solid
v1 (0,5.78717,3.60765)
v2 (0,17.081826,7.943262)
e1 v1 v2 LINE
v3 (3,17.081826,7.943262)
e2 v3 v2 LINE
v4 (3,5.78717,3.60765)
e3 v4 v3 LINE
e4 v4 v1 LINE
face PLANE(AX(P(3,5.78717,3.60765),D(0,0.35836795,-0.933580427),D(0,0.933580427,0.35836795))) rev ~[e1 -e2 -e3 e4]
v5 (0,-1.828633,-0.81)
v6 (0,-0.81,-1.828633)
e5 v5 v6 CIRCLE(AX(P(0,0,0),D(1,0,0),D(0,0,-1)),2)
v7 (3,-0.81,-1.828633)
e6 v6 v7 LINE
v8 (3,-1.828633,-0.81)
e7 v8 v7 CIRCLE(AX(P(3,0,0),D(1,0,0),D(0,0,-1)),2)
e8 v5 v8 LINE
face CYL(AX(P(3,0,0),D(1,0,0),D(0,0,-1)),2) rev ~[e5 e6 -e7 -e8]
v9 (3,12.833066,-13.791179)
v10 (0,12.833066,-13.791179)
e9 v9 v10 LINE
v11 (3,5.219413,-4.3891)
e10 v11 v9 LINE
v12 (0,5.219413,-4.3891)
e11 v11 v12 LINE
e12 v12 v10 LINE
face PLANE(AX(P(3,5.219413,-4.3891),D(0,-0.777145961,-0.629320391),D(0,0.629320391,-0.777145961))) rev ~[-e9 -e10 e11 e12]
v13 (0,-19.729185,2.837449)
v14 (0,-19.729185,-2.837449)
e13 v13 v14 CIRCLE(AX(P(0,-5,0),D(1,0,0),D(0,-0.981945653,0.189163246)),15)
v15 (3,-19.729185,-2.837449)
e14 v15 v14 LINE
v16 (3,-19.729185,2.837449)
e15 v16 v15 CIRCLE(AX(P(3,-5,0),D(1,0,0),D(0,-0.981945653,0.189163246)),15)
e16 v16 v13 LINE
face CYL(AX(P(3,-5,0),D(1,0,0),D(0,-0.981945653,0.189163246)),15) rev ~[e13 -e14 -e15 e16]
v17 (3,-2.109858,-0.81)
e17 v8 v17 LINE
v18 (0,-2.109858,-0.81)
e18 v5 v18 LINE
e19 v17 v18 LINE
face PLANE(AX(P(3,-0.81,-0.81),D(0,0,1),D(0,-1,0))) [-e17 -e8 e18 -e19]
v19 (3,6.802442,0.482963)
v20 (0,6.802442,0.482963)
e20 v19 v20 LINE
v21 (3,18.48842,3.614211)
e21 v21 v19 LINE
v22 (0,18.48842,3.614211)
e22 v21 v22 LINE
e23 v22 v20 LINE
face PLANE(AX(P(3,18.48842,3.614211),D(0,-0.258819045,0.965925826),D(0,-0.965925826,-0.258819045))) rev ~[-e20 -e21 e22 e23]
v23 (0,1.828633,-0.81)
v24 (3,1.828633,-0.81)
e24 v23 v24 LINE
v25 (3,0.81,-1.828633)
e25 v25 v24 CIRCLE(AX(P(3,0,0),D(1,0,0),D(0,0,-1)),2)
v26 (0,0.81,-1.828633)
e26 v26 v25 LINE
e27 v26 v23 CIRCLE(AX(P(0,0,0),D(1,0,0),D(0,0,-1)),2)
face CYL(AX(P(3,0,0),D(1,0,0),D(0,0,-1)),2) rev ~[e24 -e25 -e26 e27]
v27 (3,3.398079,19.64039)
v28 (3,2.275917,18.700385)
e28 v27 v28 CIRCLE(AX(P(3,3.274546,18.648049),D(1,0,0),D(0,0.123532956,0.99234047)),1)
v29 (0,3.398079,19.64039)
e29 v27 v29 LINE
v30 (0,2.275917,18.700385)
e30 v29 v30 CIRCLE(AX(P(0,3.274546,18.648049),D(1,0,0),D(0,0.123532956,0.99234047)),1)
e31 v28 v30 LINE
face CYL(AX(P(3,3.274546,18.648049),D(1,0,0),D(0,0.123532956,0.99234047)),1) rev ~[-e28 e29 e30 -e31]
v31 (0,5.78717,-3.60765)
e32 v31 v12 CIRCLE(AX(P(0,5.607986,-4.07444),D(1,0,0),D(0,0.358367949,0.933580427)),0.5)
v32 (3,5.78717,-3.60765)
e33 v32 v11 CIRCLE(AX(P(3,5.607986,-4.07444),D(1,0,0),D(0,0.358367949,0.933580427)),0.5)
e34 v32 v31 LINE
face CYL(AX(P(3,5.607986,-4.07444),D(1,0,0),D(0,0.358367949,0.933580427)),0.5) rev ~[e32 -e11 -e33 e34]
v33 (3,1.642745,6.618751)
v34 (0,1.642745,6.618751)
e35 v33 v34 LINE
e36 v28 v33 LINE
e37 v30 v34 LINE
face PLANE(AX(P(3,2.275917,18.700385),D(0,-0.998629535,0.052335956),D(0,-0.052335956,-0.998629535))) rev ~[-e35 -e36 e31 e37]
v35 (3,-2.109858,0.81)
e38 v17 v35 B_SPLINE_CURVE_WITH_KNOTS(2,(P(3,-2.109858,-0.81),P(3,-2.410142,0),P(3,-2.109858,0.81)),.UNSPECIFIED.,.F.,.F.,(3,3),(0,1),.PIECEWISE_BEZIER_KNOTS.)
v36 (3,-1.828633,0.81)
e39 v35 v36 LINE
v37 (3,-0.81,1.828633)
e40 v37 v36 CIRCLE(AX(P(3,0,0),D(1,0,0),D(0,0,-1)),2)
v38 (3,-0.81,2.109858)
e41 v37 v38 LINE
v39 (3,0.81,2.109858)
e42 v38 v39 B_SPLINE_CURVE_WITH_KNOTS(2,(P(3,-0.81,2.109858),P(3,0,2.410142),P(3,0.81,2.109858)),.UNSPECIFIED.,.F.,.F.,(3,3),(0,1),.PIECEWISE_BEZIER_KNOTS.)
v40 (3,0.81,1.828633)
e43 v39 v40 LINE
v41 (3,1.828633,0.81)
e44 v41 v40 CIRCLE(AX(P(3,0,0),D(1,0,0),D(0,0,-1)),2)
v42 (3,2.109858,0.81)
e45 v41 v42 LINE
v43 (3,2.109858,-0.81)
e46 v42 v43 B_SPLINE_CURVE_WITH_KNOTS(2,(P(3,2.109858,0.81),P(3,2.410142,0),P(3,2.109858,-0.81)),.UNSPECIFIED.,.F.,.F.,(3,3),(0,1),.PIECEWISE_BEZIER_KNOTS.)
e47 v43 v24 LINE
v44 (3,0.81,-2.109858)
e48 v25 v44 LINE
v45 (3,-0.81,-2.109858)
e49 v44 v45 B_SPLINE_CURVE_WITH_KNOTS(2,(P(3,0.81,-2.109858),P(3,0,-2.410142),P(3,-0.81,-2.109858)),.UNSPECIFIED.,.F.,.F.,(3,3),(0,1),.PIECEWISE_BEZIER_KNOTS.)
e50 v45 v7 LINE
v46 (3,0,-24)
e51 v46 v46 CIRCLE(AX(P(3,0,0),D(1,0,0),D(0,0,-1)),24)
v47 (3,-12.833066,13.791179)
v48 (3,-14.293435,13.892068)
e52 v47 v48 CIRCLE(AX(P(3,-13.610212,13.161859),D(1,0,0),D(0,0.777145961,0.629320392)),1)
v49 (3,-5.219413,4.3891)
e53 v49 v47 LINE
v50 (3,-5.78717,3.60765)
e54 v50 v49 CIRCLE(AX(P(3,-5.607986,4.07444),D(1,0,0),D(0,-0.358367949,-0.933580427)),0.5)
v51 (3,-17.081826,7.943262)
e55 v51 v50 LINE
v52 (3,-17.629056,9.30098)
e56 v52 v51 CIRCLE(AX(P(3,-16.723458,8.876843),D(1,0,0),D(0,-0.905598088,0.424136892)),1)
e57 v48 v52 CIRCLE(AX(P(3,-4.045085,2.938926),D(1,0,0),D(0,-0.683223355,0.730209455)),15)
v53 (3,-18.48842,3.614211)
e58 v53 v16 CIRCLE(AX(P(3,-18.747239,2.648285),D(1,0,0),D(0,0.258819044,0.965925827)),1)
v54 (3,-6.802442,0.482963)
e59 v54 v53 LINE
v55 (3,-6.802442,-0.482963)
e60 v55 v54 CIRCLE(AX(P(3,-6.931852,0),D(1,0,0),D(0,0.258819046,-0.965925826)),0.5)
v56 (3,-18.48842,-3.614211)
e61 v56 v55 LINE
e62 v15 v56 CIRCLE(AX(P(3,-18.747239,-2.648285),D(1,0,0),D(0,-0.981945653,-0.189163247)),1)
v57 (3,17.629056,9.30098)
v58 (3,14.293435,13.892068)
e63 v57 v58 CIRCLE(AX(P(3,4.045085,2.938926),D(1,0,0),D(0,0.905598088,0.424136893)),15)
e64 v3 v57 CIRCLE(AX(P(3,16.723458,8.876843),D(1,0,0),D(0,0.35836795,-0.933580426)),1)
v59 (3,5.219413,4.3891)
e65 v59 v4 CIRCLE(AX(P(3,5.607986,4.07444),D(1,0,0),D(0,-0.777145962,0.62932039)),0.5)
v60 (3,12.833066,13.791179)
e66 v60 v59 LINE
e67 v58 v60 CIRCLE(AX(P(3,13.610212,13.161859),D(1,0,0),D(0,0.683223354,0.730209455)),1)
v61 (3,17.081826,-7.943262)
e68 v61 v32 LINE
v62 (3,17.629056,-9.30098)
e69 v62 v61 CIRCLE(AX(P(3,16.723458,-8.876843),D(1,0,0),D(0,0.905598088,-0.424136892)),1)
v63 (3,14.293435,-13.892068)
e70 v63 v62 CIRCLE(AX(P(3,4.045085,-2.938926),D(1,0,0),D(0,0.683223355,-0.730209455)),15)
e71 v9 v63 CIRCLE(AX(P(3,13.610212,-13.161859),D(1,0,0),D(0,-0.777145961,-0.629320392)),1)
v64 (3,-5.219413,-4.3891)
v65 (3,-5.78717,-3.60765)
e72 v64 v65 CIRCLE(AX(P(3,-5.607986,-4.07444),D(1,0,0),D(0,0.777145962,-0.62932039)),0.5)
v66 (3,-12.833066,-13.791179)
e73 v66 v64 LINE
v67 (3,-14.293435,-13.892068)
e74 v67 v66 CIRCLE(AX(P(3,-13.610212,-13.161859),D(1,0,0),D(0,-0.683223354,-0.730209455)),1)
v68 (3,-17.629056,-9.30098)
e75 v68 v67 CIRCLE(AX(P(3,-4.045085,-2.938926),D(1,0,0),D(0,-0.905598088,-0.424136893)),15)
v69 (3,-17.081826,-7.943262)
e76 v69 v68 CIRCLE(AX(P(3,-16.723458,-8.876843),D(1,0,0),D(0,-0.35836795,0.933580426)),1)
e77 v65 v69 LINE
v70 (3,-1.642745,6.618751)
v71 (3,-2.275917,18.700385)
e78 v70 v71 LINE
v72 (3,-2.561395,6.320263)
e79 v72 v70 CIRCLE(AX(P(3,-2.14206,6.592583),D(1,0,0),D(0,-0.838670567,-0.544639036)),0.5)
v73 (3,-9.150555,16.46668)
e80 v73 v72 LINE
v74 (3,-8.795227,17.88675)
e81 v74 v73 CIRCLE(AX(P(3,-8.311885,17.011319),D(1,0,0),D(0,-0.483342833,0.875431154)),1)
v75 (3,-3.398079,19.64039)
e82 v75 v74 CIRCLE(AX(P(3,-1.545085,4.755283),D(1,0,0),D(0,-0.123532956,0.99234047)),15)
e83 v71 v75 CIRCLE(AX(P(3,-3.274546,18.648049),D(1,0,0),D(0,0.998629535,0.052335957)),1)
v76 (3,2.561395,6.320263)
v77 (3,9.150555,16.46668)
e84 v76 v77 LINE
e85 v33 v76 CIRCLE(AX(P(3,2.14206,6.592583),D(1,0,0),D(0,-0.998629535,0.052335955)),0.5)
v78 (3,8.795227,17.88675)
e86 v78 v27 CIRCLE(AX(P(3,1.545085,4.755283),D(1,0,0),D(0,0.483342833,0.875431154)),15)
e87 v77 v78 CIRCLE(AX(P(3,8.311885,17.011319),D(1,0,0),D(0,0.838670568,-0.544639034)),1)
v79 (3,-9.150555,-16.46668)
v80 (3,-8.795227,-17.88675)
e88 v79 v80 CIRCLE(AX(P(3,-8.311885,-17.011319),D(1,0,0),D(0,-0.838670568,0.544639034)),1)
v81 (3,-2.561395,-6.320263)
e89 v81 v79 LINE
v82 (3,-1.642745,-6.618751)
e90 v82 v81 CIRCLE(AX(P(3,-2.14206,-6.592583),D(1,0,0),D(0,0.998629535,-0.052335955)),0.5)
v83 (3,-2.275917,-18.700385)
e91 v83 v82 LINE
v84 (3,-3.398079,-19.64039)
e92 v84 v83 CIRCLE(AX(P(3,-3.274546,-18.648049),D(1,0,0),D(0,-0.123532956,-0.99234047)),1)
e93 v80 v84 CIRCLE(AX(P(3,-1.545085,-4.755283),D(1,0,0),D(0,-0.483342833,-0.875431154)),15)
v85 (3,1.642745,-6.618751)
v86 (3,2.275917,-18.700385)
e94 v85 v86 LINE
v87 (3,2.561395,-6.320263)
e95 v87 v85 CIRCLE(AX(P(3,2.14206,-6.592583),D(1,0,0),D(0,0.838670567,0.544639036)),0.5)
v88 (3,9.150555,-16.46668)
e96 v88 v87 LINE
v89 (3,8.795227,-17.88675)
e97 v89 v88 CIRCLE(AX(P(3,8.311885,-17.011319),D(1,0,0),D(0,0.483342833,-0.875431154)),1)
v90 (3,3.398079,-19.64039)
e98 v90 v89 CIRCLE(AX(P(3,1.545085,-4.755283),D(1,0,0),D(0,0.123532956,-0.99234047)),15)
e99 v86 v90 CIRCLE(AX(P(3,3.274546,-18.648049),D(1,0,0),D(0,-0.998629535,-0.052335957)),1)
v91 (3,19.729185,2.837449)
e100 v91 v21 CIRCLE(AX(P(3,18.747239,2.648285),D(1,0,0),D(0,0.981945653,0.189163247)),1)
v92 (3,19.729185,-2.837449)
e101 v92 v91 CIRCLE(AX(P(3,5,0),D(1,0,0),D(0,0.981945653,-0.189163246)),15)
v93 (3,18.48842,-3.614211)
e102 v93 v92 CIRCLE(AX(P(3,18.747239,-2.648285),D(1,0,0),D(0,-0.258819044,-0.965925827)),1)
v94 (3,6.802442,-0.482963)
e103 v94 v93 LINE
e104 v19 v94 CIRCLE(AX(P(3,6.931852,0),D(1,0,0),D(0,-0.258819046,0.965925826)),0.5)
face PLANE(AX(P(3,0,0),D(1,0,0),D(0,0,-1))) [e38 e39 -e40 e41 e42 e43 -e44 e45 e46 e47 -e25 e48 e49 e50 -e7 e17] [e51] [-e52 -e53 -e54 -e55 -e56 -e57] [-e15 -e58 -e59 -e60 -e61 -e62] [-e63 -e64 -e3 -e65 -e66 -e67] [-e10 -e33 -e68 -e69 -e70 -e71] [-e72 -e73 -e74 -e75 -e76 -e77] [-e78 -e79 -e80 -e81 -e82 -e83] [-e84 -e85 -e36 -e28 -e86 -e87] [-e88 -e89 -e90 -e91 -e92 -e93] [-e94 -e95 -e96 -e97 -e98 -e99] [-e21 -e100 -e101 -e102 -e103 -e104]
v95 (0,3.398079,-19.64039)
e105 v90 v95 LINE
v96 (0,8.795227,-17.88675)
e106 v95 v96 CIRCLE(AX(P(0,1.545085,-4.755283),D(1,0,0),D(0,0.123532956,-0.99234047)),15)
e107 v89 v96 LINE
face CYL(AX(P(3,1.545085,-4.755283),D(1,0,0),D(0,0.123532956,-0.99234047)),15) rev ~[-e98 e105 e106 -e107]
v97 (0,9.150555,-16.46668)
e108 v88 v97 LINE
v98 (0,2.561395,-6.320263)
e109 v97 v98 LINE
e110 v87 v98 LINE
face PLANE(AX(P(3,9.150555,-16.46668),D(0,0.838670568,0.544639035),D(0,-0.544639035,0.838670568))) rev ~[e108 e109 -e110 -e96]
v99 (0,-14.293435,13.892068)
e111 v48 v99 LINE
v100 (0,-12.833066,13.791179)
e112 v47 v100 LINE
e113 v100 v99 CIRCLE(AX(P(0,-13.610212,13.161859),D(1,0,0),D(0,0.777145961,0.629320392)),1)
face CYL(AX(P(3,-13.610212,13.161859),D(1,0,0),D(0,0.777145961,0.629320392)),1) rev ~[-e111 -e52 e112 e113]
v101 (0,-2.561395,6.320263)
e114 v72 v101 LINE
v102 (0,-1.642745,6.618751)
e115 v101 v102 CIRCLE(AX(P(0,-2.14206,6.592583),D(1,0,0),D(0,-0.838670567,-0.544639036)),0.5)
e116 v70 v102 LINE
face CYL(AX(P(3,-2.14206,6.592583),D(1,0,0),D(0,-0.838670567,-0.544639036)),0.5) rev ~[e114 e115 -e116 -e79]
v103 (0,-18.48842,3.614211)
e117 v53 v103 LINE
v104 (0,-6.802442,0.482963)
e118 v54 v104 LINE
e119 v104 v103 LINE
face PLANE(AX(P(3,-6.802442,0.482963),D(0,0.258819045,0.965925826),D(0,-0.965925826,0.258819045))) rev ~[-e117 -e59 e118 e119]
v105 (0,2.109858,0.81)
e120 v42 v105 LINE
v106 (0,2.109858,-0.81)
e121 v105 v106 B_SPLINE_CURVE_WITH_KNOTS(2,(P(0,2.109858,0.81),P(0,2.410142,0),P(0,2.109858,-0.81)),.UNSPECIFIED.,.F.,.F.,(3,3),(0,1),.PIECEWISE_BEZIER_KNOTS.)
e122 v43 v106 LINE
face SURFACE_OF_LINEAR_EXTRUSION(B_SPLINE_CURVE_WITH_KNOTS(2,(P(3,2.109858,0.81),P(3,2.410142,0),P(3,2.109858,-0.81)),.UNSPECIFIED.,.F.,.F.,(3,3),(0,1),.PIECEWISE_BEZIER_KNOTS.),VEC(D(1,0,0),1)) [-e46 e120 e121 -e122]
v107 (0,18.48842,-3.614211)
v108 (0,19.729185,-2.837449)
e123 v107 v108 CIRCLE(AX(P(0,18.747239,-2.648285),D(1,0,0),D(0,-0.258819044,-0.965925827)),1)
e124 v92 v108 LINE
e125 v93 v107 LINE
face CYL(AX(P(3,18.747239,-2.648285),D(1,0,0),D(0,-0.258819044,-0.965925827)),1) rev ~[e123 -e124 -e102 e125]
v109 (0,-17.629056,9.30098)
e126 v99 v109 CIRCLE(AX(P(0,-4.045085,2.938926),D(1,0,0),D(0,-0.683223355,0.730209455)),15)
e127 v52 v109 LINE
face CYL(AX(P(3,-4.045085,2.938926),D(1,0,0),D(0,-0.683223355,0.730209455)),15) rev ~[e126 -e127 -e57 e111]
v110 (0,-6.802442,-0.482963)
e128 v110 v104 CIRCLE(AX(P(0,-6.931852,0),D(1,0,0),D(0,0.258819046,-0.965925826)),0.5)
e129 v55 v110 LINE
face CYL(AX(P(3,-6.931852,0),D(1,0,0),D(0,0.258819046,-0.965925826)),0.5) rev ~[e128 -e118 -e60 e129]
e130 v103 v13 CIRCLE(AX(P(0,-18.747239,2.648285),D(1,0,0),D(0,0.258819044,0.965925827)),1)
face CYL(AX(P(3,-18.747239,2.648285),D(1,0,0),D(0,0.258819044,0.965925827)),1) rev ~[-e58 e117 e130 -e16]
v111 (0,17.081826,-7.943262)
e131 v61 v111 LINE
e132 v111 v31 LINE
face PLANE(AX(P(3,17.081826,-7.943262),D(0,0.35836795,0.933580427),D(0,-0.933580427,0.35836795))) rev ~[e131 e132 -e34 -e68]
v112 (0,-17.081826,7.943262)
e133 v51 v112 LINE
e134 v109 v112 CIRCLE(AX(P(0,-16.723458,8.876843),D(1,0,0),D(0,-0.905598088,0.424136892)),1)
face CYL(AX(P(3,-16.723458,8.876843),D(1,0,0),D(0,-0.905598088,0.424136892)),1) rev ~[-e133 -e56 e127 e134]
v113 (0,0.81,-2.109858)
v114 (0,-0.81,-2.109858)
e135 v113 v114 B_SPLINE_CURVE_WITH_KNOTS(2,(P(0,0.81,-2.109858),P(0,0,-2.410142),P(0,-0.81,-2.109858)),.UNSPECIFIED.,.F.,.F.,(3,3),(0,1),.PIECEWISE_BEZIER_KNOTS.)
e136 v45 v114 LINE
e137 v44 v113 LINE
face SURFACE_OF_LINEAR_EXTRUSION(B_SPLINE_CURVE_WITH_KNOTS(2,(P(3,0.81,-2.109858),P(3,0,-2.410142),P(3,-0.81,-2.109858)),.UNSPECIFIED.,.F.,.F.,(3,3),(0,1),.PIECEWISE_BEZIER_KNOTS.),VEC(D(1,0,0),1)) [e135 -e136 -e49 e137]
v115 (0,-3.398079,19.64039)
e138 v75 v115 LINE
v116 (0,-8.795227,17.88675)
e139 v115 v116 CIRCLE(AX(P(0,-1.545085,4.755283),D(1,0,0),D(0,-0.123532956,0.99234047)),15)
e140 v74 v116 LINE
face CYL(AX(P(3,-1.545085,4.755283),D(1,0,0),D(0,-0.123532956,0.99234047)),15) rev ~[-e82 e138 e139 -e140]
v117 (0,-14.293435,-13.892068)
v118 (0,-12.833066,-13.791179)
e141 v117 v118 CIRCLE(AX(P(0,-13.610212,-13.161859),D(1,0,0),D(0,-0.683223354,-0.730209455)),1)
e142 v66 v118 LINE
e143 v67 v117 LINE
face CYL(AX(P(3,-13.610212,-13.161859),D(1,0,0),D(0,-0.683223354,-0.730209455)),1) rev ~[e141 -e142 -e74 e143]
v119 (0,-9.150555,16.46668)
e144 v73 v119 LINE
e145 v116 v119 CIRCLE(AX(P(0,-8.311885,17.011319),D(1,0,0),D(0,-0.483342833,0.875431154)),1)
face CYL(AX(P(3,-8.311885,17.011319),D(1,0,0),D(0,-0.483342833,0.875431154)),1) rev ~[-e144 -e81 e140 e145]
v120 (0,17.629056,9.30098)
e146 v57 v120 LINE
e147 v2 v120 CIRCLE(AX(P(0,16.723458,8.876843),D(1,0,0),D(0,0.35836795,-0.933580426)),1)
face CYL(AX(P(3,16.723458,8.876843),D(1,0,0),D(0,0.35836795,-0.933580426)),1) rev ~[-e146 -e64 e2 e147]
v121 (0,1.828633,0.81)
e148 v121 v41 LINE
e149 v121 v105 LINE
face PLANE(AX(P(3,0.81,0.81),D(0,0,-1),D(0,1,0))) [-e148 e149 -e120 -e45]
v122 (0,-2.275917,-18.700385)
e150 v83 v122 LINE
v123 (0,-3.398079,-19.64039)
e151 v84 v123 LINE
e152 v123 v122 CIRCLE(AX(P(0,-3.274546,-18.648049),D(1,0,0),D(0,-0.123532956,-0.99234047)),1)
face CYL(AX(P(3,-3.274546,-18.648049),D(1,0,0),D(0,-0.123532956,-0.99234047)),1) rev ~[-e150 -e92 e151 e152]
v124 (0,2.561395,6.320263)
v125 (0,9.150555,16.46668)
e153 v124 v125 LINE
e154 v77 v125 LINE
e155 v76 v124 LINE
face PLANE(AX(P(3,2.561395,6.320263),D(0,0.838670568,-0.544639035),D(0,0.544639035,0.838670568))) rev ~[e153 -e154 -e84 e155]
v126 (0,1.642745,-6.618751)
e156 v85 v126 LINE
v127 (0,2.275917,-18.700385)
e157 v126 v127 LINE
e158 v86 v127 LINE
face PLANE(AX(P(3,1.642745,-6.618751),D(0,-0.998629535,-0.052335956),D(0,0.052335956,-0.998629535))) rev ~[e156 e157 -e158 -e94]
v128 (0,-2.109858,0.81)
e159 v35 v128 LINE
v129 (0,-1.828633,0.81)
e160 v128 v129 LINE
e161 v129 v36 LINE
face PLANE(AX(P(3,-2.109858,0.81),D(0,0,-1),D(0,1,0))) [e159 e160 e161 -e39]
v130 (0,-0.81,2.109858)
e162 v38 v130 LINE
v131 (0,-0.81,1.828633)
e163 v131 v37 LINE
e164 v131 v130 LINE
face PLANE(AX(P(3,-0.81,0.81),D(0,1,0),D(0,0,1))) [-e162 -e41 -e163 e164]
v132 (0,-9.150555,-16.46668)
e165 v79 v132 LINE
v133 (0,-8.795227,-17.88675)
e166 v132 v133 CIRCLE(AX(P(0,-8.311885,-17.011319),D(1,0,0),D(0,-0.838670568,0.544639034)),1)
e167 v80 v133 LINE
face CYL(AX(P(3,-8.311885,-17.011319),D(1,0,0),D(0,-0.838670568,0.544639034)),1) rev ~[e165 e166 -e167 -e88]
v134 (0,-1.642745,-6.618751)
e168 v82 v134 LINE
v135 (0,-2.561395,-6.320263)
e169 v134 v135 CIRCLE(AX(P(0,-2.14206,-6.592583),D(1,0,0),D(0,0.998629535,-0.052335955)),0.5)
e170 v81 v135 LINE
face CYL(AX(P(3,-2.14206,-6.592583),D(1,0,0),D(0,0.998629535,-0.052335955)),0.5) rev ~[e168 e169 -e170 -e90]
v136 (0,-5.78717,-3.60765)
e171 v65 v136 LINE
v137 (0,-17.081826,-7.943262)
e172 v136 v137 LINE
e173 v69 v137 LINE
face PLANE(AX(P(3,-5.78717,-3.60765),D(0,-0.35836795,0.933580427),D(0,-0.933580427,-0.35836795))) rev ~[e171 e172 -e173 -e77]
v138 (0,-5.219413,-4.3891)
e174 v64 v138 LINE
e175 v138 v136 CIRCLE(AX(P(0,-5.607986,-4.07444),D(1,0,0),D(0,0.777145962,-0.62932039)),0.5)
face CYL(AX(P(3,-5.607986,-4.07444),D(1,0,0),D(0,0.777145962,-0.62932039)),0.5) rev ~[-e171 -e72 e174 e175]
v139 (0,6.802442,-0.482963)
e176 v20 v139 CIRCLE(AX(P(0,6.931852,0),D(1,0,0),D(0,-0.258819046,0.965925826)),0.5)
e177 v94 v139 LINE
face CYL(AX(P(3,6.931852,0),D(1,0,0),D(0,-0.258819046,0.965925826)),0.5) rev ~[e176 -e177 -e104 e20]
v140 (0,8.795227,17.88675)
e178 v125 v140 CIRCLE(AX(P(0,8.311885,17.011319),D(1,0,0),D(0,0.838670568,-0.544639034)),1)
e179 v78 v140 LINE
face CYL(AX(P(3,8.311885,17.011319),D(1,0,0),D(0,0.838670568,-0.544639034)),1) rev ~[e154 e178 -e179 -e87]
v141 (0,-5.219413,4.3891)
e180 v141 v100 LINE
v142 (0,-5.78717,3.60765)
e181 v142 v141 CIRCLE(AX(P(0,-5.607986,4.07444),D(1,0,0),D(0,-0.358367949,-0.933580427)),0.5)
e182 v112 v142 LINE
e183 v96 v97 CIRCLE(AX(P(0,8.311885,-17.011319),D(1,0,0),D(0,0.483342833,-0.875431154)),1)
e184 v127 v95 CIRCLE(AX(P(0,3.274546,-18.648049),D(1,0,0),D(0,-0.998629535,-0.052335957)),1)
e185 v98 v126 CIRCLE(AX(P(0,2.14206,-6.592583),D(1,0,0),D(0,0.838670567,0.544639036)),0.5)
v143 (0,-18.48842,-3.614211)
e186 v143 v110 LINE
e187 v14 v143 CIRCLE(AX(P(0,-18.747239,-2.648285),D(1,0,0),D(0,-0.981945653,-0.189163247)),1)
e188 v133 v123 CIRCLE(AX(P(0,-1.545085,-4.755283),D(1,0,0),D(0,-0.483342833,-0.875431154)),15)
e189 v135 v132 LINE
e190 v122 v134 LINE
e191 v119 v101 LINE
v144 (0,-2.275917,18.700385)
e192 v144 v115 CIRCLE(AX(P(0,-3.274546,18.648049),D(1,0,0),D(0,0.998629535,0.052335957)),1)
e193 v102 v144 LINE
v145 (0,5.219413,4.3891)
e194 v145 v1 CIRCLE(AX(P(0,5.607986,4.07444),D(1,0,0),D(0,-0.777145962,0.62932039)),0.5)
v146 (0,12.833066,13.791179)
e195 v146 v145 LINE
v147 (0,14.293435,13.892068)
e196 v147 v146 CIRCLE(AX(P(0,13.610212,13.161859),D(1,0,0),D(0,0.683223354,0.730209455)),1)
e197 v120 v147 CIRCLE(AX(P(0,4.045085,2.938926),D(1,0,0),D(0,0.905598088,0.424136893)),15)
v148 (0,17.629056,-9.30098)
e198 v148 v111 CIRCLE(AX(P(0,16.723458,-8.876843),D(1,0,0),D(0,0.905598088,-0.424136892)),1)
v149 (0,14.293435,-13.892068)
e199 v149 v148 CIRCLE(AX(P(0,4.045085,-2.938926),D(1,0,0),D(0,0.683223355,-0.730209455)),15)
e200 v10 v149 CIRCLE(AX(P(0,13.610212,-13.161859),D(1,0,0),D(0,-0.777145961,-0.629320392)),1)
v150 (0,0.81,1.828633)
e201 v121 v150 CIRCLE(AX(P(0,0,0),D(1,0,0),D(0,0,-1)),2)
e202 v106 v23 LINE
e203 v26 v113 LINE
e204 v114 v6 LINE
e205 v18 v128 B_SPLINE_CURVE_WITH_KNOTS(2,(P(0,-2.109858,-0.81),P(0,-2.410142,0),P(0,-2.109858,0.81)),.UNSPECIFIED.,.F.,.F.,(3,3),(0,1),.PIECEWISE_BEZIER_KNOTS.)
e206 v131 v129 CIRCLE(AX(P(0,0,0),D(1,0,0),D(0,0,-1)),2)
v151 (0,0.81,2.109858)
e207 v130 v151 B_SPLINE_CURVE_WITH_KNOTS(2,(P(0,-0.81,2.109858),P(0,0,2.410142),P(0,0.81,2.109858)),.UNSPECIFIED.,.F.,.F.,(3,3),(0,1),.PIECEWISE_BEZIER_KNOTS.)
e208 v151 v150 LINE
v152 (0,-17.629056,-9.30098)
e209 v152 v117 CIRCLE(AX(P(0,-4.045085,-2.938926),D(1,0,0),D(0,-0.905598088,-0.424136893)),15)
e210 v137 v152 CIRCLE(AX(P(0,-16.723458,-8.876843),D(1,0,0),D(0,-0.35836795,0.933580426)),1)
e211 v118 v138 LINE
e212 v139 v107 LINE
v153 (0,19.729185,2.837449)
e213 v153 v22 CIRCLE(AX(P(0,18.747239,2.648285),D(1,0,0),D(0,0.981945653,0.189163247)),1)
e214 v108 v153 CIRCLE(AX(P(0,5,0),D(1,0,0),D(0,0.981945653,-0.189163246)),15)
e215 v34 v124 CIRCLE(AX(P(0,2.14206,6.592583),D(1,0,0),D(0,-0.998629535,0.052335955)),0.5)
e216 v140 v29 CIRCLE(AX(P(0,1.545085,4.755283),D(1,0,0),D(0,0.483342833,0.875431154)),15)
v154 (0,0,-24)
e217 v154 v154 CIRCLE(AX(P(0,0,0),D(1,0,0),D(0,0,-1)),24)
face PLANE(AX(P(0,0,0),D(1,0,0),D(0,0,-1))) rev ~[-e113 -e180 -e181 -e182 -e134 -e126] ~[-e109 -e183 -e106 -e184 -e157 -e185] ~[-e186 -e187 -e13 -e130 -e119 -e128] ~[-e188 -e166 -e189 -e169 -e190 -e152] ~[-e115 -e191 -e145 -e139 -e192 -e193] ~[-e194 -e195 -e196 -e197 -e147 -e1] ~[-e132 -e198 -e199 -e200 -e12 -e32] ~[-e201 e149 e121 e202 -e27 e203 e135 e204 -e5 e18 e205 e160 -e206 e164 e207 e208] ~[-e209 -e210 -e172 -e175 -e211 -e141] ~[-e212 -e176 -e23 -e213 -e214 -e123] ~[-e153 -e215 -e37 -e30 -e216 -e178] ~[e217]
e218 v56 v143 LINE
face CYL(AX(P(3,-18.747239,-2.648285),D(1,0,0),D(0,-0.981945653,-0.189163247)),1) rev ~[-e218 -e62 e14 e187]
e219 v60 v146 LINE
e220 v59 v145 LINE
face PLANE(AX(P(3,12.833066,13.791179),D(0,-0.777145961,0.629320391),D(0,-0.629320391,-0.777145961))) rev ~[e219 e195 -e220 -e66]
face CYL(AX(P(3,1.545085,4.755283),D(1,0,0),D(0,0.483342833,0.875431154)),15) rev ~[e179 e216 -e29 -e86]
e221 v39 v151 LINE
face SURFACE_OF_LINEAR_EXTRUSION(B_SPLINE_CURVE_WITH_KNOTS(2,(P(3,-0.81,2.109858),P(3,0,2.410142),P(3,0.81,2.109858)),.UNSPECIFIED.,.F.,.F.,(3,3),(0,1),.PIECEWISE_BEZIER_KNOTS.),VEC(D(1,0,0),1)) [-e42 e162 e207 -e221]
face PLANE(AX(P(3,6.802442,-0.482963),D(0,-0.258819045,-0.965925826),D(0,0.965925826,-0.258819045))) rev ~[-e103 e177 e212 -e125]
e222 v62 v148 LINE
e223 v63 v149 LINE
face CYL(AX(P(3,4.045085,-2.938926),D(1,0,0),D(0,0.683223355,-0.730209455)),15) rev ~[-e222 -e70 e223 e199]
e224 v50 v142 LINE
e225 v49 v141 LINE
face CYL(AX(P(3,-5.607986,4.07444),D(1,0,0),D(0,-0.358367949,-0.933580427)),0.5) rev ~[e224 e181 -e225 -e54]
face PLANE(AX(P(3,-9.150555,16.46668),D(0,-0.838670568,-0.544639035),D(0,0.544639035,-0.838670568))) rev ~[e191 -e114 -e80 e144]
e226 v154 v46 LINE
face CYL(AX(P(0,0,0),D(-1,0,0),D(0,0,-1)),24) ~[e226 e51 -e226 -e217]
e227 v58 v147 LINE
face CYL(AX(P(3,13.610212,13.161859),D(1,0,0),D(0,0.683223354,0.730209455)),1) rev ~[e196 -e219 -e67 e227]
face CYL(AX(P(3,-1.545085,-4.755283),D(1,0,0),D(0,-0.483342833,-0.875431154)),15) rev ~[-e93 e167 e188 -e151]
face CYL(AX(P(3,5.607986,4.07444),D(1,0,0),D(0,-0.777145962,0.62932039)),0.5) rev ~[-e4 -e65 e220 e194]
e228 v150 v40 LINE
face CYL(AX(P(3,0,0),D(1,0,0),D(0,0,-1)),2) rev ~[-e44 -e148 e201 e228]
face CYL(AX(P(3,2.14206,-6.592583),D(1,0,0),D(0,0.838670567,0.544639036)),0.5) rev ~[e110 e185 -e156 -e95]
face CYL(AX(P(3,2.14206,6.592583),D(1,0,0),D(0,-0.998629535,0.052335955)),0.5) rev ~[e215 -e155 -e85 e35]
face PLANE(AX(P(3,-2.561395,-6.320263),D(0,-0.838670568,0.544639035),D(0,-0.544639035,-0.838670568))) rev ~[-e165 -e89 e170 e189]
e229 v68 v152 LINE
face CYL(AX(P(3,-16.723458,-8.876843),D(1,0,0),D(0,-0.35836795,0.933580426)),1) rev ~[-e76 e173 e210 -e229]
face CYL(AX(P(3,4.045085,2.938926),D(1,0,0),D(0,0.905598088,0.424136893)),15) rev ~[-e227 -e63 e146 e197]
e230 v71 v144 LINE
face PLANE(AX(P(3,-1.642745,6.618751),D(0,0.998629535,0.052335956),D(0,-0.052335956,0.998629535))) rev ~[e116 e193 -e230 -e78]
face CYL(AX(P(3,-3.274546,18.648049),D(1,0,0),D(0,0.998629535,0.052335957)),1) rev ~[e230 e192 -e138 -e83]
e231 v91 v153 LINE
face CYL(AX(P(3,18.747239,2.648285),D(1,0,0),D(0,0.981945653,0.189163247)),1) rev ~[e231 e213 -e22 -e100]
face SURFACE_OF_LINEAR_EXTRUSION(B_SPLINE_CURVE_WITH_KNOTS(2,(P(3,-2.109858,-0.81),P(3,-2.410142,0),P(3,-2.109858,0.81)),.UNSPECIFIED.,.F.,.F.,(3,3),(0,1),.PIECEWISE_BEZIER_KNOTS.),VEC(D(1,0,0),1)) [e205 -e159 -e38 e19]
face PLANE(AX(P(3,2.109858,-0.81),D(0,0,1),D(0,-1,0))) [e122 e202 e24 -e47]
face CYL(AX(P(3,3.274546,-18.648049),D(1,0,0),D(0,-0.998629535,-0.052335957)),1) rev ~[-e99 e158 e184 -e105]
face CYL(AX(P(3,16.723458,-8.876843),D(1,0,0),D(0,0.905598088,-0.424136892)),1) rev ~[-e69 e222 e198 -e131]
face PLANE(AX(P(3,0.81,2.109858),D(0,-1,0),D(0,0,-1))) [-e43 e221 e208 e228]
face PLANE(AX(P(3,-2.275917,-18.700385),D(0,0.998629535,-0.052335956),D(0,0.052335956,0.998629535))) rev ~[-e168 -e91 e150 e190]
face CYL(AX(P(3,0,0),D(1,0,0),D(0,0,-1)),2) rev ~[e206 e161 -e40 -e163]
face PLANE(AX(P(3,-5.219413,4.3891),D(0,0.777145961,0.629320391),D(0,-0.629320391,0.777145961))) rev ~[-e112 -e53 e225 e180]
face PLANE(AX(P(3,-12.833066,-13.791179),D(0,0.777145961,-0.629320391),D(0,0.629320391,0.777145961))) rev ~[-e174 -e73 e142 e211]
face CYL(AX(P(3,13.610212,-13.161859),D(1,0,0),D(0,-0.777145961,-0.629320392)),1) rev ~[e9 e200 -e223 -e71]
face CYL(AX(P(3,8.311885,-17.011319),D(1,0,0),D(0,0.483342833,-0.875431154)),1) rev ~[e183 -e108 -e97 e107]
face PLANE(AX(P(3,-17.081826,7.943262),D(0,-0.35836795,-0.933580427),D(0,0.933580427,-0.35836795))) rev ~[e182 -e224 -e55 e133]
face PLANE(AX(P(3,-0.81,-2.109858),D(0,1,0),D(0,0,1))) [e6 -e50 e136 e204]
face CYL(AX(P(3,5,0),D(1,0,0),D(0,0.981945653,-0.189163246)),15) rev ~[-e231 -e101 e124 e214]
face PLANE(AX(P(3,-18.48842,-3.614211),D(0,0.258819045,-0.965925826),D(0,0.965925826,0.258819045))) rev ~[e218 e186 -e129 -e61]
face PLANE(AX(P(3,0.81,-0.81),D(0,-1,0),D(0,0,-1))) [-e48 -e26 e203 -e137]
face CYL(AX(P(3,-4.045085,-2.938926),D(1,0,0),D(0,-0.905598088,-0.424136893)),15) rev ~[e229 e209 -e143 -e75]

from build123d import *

# Parameters (mm, degrees)
SKETCH1_R           = 24
BOSS_EXTRUDE1_DEPTH = 3
SKETCH2_R           = 2
CUT_EXTRUDE1_DEPTH  = 3
CUT_EXTRUDE2_DEPTH  = 3
CIRPATTERN1_COUNT   = 10
CUT_EXTRUDE4_DEPTH  = 3


with BuildPart() as part:
    # Sketch1 → Boss-Extrude1 (new body)
    with BuildSketch(Plane(origin=(0, 0, 0), x_dir=(0, 0, -1), z_dir=(1, 0, 0))):
        Circle(SKETCH1_R)
    extrude(amount=BOSS_EXTRUDE1_DEPTH)

    # Sketch2 → Cut-Extrude1 (cut)
    with BuildSketch(Plane(origin=(3, 0, 0), x_dir=(0, 0, -1), z_dir=(1, 0, 0))):
        Circle(SKETCH2_R)
    extrude(amount=-CUT_EXTRUDE1_DEPTH, mode=Mode.SUBTRACT)

    # Sketch3 → Cut-Extrude2 (cut)
    with BuildSketch(Plane(origin=(3, 0, 0), x_dir=(0, 0, -1), z_dir=(1, 0, 0))):
        with BuildLine():
            Line((0.482962913, 6.80244213), (3.614211274, 18.488420103))
            ThreePointArc((3.614211274, 18.488420103), (3.495889099, 19.277869009), (2.837448694, 19.729184801))
            ThreePointArc((2.837448694, 19.729184801), (0, 20), (-2.837448694, 19.729184801))
            ThreePointArc((-2.837448694, 19.729184801), (-3.495889099, 19.277869009), (-3.614211274, 18.488420103))
            Line((-3.614211274, 18.488420103), (-0.482962913, 6.80244213))
            ThreePointArc((-0.482962913, 6.80244213), (0, 6.431851653), (0.482962913, 6.80244213))
        make_face()
    cut_extrude2 = extrude(amount=-CUT_EXTRUDE2_DEPTH, mode=Mode.SUBTRACT)

    # CirPattern1: Cut-Extrude2 ×10 about axis
    cirpattern1_axis = Axis((0, 0, 0), (1, 0, 0))
    for i in range(1, CIRPATTERN1_COUNT):
        add(cut_extrude2.rotate(cirpattern1_axis, i * 360 / CIRPATTERN1_COUNT), mode=Mode.SUBTRACT)

    # Sketch5 → Cut-Extrude4 (cut)
    with BuildSketch(Plane(origin=(3, 0, 0), x_dir=(0, 0, -1), z_dir=(1, 0, 0))):
        with BuildLine():
            Line((-2.109857815, 0.81), (-0.81, 0.81))
            Line((-0.81, 0.81), (-0.81, 2.109857815))
            add(Edge.make_bspline(
                [(-0.81, 2.109857815), (0, 2.410142185), (0.81, 2.109857815)],
                knots=[0, 0, 0, 1, 1, 1], degree=2))
            Line((0.81, 2.109857815), (0.81, 0.81))
            Line((0.81, 0.81), (2.109857815, 0.81))
            add(Edge.make_bspline(
                [(2.109857815, 0.81), (2.410142185, 0), (2.109857815, -0.81)],
                knots=[0, 0, 0, 1, 1, 1], degree=2))
            Line((2.109857815, -0.81), (0.81, -0.81))
            Line((0.81, -0.81), (0.81, -2.109857815))
            add(Edge.make_bspline(
                [(0.81, -2.109857815), (0, -2.410142185), (-0.81, -2.109857815)],
                knots=[0, 0, 0, 1, 1, 1], degree=2))
            Line((-0.81, -2.109857815), (-0.81, -0.81))
            Line((-0.81, -0.81), (-2.109857815, -0.81))
            add(Edge.make_bspline(
                [(-2.109857815, -0.81), (-2.410142185, 0), (-2.109857815, 0.81)],
                knots=[0, 0, 0, 1, 1, 1], degree=2))
        make_face()
    extrude(amount=-CUT_EXTRUDE4_DEPTH, mode=Mode.SUBTRACT)


solid = part.part
